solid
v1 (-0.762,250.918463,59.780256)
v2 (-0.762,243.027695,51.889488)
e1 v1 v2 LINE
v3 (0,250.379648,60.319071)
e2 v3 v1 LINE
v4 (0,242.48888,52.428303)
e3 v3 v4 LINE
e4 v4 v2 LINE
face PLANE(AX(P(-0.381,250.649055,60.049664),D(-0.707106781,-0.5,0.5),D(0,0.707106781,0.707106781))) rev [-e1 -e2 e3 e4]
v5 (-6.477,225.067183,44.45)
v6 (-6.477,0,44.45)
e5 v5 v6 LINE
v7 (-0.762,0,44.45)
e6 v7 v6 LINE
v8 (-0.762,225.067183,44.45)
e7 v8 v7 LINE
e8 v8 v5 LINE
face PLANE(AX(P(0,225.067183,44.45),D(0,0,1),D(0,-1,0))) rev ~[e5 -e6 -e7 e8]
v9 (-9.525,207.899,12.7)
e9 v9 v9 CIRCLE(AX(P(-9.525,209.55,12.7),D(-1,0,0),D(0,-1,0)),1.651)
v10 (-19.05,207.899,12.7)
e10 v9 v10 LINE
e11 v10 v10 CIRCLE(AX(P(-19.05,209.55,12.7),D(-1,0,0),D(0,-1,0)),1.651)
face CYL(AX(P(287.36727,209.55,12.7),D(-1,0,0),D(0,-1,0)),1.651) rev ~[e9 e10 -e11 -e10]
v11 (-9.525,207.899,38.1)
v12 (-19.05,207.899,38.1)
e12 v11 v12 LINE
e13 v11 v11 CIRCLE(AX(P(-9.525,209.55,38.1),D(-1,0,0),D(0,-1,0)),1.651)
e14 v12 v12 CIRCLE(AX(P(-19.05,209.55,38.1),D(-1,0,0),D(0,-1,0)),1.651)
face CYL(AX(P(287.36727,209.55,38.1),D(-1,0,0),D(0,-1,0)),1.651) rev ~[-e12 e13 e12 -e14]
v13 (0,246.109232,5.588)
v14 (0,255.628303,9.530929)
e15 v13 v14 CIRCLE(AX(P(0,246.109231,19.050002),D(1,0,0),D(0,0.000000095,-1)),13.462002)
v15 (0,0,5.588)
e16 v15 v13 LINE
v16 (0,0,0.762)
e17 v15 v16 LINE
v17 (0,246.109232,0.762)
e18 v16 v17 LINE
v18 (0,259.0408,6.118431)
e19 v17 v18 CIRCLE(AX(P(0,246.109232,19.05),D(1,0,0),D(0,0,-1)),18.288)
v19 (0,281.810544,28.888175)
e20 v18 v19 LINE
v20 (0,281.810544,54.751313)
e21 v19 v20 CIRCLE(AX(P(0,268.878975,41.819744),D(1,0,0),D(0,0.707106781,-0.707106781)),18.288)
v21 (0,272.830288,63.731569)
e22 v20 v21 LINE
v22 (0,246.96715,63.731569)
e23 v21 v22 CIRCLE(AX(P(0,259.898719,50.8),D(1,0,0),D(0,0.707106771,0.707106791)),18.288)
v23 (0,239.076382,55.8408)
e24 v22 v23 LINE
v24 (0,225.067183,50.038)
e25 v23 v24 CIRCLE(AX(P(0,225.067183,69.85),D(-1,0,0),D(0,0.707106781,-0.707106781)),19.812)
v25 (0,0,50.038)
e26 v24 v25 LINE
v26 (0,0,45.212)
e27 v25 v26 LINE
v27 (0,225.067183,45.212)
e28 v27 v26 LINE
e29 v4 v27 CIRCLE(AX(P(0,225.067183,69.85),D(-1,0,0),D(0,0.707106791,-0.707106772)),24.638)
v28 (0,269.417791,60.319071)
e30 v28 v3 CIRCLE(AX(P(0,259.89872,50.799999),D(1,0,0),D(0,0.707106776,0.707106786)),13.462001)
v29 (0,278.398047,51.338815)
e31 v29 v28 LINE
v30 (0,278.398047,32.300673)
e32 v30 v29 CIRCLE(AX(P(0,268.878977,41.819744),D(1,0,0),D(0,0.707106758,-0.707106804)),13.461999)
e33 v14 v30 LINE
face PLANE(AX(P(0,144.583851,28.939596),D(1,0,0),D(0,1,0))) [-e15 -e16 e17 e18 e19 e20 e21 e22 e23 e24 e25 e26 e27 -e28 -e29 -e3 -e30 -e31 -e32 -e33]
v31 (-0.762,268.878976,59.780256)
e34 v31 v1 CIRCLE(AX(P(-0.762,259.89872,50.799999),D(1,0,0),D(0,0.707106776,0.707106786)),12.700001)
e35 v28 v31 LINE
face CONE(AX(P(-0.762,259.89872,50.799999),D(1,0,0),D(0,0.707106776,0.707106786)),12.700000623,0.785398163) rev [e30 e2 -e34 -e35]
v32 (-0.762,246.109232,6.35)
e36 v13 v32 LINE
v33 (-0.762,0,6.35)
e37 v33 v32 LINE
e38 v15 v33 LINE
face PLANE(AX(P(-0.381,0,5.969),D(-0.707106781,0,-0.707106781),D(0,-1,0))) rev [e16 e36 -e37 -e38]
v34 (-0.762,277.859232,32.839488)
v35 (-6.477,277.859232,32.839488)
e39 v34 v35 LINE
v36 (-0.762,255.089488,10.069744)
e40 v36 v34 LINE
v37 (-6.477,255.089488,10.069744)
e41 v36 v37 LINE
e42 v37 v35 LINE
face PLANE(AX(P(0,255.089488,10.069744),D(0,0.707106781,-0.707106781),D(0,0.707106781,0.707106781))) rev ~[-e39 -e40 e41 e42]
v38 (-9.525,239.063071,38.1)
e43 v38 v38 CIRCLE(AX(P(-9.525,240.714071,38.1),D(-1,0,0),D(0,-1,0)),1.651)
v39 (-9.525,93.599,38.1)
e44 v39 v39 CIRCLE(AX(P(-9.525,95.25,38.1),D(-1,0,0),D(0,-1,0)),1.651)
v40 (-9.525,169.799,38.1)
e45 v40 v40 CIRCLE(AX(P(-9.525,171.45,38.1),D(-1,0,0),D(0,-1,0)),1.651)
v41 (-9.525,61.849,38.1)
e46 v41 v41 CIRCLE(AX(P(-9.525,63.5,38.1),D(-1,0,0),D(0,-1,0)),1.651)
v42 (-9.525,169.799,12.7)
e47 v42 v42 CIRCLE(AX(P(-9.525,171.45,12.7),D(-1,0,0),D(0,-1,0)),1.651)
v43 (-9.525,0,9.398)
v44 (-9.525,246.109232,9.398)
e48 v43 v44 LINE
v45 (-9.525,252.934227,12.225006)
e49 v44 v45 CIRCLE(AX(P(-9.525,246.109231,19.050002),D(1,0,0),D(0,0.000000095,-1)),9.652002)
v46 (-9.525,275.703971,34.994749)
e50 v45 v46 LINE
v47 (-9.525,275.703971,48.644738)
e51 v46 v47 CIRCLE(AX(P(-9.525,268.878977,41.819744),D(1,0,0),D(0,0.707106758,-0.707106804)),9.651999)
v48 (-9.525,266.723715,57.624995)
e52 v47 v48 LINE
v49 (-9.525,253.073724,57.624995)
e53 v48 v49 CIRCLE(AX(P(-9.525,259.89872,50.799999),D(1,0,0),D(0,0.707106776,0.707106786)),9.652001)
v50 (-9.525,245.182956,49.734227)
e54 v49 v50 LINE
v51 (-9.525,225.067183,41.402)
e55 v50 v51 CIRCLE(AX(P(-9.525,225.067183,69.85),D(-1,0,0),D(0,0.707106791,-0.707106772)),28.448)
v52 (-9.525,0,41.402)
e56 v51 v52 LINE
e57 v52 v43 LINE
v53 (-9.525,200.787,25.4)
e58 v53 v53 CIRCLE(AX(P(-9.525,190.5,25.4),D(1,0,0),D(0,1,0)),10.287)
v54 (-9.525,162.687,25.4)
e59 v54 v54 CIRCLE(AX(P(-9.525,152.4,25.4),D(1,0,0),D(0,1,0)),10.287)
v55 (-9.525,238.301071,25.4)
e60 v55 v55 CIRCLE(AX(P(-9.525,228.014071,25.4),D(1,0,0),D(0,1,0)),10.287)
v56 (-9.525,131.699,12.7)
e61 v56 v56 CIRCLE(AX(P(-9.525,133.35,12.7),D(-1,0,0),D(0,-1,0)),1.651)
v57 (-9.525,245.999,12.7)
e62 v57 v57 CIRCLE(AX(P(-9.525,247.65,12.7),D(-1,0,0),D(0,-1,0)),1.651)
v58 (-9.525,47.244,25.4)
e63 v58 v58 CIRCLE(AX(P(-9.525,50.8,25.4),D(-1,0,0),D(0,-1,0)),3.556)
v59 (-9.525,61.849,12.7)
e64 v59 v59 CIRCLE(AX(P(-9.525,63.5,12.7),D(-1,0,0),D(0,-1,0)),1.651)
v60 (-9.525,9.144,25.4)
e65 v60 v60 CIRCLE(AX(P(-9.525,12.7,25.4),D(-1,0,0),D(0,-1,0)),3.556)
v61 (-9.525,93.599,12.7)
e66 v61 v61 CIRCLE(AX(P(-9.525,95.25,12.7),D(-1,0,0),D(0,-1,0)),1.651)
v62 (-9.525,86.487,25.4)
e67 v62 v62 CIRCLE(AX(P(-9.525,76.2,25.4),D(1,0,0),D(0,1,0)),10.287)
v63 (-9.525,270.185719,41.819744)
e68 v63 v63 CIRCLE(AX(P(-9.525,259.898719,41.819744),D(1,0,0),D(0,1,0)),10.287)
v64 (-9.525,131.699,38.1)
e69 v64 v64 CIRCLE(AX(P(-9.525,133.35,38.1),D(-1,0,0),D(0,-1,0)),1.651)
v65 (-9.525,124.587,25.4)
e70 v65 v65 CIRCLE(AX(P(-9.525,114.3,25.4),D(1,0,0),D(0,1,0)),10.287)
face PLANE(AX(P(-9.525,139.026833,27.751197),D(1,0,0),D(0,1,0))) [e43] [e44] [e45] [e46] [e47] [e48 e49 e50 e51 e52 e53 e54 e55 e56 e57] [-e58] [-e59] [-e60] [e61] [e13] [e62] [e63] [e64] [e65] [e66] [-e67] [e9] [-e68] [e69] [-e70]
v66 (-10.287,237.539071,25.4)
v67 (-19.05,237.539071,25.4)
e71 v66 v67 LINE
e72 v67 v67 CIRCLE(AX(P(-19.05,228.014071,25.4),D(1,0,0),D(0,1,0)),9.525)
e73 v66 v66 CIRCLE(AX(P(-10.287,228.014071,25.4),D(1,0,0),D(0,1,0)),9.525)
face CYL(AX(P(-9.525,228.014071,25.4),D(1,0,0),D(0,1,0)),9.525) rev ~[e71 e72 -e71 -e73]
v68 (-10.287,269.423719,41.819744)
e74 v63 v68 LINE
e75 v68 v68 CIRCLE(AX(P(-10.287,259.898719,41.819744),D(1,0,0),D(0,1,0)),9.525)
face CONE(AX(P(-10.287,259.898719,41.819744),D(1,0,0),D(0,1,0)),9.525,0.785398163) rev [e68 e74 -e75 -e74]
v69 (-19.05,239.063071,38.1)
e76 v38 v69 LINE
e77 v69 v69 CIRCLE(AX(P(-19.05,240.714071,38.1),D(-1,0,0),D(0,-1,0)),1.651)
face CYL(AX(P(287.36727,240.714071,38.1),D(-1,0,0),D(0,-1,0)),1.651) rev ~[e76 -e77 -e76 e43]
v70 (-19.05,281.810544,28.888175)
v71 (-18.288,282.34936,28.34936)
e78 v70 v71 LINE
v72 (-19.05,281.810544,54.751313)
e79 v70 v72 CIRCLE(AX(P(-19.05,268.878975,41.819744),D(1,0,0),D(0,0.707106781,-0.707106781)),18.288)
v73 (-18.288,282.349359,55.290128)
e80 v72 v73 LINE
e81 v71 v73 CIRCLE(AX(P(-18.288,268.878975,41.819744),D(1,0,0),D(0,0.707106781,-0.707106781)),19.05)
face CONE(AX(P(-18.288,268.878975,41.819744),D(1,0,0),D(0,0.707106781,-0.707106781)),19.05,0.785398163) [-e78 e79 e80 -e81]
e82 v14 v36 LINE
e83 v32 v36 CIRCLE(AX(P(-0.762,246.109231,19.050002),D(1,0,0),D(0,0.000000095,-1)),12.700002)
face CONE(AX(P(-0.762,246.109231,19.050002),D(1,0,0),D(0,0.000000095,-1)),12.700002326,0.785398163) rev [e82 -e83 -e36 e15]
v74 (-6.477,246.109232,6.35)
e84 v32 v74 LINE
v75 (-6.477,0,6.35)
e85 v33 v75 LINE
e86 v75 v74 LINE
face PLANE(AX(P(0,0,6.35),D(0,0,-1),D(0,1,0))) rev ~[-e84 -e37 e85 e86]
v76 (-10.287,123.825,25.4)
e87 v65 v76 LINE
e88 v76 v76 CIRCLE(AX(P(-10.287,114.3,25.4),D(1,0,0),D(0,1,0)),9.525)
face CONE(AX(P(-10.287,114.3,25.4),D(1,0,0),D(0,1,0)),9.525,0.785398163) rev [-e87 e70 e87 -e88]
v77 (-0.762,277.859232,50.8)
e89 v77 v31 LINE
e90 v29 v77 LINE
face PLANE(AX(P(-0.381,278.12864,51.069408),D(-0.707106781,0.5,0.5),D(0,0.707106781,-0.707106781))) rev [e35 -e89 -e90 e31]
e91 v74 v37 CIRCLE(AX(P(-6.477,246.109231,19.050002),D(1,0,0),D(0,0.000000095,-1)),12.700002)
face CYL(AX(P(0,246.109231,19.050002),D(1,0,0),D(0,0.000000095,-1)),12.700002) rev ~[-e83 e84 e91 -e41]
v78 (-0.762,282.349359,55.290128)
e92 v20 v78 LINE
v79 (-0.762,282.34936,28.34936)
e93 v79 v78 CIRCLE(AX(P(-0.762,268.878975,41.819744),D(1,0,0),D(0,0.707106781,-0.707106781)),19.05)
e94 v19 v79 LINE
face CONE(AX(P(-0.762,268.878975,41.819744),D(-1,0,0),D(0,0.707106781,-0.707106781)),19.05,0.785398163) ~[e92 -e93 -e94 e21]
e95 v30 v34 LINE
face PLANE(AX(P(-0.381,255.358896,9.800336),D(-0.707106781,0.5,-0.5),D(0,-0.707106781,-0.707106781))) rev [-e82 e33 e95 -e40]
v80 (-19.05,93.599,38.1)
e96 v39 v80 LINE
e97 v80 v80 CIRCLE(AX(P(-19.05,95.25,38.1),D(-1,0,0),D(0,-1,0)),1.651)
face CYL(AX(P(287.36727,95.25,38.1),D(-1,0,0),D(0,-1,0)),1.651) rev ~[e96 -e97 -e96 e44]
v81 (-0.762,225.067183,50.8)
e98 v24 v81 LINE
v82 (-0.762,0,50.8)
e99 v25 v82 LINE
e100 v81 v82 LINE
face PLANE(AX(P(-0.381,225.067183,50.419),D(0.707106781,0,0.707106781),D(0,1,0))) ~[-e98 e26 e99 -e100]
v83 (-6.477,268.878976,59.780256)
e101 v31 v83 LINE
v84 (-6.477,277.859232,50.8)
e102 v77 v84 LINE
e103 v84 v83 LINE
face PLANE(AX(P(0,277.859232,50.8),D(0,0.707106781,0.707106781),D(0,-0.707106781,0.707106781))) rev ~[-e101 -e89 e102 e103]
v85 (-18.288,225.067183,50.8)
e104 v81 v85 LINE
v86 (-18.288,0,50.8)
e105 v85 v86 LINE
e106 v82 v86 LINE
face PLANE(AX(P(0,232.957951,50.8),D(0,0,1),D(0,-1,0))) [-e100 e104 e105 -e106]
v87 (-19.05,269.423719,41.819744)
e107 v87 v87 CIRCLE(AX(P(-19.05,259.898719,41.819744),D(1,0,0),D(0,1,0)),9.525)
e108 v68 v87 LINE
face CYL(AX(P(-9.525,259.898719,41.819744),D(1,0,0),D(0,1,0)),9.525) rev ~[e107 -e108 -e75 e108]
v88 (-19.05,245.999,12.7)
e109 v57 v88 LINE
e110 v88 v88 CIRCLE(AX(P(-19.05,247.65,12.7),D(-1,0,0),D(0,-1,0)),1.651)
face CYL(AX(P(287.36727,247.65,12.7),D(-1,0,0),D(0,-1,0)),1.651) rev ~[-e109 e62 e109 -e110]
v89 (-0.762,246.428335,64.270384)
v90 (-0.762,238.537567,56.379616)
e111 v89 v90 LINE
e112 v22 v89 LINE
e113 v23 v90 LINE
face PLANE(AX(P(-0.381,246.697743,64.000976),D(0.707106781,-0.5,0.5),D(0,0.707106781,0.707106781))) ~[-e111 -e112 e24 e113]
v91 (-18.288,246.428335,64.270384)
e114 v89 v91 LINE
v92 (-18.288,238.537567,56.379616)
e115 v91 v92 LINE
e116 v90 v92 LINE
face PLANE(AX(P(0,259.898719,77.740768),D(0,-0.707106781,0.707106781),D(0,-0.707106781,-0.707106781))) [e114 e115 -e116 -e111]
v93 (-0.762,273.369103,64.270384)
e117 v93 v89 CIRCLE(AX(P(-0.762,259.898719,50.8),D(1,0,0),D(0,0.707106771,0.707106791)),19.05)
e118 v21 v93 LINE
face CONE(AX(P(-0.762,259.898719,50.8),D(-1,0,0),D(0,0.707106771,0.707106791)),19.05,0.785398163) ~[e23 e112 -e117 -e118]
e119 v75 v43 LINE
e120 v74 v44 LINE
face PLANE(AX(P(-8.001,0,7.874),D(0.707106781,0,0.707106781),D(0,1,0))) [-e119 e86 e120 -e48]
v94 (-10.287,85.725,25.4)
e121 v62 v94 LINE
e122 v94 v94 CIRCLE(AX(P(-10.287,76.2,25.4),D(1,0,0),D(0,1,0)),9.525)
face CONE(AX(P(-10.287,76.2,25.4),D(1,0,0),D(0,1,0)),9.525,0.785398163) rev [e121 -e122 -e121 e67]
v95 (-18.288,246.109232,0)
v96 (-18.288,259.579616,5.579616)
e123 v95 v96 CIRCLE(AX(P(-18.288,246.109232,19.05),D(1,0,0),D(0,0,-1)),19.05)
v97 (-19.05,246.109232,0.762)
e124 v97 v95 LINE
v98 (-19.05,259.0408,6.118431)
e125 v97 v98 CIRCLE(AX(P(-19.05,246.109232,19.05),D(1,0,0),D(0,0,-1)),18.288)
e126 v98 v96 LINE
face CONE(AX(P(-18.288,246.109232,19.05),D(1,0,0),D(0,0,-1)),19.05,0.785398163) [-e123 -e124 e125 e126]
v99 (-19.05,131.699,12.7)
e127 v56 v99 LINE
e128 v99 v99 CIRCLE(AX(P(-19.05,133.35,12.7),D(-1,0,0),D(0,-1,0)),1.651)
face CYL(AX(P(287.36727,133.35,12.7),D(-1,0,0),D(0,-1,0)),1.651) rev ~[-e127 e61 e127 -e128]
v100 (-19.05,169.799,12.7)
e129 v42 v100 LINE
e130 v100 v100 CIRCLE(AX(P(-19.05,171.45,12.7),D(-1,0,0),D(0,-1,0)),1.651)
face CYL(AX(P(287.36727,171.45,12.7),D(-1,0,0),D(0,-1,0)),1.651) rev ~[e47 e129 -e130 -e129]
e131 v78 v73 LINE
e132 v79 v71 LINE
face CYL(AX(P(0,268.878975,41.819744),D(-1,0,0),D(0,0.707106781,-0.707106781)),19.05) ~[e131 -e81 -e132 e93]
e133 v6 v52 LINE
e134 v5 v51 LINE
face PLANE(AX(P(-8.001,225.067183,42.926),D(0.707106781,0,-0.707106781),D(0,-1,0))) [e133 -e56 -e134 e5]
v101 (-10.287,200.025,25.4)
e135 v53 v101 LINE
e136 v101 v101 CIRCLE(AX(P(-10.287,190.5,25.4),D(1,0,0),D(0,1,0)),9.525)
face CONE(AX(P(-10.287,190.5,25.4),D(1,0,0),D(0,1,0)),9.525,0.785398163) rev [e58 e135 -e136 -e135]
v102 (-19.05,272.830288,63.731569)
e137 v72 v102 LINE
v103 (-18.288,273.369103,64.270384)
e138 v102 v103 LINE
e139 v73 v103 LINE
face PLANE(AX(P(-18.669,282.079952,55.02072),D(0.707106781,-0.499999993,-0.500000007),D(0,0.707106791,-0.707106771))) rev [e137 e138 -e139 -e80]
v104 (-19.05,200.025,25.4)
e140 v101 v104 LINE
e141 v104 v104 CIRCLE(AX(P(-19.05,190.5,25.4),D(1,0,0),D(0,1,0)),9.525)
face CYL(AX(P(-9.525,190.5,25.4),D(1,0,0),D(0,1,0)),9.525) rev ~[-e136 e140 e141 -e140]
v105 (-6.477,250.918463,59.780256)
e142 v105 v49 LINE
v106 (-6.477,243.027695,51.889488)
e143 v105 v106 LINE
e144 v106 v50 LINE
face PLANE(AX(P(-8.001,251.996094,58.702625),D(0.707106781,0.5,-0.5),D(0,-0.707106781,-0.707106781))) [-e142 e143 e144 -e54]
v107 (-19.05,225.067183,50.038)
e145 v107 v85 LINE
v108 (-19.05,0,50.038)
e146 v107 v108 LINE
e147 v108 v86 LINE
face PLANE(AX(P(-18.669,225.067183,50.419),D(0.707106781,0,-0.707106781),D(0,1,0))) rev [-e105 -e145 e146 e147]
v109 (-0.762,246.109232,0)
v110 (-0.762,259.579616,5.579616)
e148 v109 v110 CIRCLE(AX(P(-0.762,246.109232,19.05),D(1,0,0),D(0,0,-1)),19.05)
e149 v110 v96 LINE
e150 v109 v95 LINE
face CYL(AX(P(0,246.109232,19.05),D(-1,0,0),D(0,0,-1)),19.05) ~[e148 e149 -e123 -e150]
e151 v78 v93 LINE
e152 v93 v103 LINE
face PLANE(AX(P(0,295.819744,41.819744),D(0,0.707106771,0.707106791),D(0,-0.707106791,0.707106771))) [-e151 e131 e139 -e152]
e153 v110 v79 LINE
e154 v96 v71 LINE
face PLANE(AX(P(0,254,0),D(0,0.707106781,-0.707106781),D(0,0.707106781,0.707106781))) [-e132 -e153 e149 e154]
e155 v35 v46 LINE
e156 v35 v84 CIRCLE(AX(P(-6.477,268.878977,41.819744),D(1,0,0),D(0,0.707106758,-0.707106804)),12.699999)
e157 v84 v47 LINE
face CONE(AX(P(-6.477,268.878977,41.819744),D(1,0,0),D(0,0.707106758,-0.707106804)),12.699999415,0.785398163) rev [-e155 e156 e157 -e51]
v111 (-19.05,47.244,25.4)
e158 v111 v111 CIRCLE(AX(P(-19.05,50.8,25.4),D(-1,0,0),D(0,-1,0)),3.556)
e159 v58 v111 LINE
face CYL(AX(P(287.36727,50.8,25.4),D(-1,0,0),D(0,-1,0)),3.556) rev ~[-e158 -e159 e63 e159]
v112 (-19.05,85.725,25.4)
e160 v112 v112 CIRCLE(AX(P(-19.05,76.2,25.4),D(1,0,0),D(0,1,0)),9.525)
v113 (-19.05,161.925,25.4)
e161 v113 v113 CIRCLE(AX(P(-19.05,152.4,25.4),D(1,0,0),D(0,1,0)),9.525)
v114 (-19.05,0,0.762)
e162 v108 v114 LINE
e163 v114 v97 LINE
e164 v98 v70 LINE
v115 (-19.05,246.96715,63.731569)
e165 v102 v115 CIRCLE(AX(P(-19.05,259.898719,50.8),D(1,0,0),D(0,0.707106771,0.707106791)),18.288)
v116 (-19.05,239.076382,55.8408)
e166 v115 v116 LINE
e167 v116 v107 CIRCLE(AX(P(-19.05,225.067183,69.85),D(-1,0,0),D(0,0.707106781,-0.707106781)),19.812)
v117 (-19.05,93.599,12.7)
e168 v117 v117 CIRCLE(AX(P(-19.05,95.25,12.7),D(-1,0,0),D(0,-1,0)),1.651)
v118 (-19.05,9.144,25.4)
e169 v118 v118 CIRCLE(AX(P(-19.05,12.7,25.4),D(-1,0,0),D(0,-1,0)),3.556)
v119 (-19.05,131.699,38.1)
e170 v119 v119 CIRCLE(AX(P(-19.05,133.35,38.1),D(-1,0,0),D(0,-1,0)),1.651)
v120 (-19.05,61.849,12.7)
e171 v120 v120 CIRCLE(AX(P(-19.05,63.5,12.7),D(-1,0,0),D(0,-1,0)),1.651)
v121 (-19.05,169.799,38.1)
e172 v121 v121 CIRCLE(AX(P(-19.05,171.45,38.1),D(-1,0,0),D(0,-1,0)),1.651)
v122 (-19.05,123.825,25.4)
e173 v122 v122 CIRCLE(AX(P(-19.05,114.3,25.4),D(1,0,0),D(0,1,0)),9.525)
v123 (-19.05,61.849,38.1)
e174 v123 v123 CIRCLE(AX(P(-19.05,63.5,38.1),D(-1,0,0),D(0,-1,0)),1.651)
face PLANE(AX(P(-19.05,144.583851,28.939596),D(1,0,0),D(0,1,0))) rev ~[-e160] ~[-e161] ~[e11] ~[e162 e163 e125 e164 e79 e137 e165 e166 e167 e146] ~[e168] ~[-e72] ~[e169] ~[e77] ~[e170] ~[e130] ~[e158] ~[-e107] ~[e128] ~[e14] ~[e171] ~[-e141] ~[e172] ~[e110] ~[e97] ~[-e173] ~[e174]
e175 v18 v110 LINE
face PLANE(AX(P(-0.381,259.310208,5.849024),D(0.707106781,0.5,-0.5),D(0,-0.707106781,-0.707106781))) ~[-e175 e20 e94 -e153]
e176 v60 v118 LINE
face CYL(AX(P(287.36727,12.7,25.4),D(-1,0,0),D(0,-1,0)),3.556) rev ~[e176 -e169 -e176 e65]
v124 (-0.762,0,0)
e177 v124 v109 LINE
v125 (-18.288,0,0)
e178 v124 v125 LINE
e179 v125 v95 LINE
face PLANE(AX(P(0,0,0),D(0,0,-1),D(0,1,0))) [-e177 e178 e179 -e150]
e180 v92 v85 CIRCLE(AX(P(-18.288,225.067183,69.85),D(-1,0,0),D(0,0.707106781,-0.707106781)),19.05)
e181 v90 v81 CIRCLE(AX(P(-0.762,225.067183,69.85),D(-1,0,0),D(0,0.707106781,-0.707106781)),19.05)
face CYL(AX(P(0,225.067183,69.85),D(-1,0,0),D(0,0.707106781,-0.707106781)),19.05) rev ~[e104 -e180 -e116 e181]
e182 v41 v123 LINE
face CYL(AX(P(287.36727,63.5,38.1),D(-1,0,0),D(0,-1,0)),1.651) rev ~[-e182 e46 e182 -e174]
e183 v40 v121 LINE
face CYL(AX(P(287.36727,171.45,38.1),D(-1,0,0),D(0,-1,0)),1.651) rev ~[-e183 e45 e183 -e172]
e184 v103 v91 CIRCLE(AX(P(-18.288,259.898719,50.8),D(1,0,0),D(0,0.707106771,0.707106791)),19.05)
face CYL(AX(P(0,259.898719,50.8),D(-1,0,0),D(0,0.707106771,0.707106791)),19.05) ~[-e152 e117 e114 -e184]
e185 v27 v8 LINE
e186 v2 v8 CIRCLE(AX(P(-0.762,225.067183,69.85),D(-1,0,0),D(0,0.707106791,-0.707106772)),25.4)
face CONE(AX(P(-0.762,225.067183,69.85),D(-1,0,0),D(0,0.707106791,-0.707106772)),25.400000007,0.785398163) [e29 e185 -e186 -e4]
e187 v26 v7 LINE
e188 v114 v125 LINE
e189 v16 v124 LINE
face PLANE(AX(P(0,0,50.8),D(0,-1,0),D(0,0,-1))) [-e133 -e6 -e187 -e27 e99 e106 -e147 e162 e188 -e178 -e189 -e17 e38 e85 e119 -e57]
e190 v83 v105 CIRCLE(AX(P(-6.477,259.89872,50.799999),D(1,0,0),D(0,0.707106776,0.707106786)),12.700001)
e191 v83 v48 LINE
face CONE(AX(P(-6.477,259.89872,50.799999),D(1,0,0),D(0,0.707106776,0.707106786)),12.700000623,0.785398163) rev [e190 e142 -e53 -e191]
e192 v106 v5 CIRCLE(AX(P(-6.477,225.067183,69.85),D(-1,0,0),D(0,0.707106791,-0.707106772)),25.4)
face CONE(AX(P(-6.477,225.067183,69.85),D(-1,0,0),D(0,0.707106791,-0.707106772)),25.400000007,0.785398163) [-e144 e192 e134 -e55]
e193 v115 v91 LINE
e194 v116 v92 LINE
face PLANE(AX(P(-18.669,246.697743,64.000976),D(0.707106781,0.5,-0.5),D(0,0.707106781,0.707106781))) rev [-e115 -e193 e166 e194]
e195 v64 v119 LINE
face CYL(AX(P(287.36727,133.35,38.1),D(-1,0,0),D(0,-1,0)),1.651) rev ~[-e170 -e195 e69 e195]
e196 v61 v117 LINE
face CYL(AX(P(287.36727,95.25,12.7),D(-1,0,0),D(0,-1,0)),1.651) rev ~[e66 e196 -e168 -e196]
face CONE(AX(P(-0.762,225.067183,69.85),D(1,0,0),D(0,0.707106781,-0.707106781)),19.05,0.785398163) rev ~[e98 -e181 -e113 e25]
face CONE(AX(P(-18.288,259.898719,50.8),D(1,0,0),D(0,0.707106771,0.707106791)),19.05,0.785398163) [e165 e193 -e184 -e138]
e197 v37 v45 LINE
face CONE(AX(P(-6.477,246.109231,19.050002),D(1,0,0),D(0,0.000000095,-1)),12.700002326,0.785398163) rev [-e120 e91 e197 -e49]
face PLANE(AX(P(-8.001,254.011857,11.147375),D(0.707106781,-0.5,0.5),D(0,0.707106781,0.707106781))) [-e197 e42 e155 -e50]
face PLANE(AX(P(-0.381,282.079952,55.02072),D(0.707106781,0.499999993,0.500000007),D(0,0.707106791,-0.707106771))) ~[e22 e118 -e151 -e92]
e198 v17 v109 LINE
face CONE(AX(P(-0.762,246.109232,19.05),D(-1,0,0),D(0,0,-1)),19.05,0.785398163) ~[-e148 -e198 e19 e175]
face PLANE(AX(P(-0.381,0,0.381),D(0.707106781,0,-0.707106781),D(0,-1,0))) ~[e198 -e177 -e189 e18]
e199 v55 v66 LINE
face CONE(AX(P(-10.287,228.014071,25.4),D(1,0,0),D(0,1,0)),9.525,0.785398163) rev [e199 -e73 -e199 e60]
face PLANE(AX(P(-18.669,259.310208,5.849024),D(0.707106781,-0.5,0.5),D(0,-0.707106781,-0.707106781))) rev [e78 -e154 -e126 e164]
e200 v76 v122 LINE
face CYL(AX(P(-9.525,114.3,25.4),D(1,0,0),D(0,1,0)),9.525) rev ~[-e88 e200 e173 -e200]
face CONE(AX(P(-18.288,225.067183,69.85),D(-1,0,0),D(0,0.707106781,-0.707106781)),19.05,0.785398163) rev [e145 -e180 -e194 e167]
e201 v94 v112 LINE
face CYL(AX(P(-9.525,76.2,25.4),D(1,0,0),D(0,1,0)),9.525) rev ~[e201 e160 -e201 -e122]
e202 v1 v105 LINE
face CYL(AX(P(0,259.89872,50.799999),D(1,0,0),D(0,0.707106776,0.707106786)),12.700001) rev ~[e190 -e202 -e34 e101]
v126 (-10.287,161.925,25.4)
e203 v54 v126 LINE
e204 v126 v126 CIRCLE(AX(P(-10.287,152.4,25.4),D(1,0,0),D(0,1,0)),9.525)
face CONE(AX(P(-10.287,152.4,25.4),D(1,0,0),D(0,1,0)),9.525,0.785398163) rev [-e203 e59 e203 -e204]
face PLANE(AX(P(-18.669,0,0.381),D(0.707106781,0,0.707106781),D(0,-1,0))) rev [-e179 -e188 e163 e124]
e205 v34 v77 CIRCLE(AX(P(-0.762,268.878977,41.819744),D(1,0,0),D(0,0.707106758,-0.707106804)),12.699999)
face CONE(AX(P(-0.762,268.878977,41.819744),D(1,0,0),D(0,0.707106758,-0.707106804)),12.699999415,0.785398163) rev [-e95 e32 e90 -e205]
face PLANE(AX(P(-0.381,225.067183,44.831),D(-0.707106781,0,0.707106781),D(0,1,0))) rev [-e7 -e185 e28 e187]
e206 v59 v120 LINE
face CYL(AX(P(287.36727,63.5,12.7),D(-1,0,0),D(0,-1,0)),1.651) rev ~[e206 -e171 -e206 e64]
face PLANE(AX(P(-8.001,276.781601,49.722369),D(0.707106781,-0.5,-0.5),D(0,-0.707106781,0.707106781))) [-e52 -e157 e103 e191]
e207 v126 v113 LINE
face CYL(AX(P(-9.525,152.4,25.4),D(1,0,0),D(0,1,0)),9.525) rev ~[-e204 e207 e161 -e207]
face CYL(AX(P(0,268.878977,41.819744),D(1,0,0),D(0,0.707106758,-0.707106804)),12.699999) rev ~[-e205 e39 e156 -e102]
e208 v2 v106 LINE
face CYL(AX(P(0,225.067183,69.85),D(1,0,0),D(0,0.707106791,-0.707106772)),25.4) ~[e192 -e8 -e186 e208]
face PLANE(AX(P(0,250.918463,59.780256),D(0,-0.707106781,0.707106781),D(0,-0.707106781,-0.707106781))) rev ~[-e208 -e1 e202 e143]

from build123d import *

# Parameters (mm, degrees)
F1_DEPTH = 19.05
F2_R     = 19.05
F4_DEPTH = 9.525
F5_SIZE  = 3.048
F6_R     = 9.525
F7_DEPTH = 9.526
F8_SIZE  = 0.762
F10_D    = 7.112
F12_D    = 3.302


with BuildPart() as f1:
    # F0 (on Right) → F1 (new body)
    with BuildSketch(Plane.YZ):
        Polygon((0, 50.8), (0, 0), (254, 0), (295.819744, 41.819744), (259.898719, 77.740768), (232.957951, 50.8), align=None)
    extrude(amount=-F1_DEPTH)

    # F2
    f2_edges = [f1.edges().sort_by_distance(p)[0] for p in [
        (-9.525, 259.898719, 77.740768),
        (-9.525, 295.819744, 41.819744),
        (-9.525, 232.957951, 50.8),
        (-9.525, 254, 0),
    ]]
    fillet(f2_edges, radius=F2_R)

    # F3 (on face) → F4 (cut)
    with BuildSketch(Plane.YZ):
        with BuildLine():
            ThreePointArc((243.027695, 51.889488), (234.787342, 46.38346), (225.067183, 44.45))
            Line((225.067183, 44.45), (0, 44.45))
            Line((0, 44.45), (0, 6.35))
            Line((0, 6.35), (246.109232, 6.35))
            ThreePointArc((246.109232, 6.35), (250.969311, 7.31673), (255.089488, 10.069744))
            Line((255.089488, 10.069744), (277.859232, 32.839488))
            ThreePointArc((277.859232, 32.839488), (281.578976, 41.819744), (277.859232, 50.8))
            Line((277.859232, 50.8), (268.878976, 59.780256))
            ThreePointArc((268.878976, 59.780256), (259.898719, 63.5), (250.918463, 59.780256))
            Line((250.918463, 59.780256), (243.027695, 51.889488))
        make_face()
    extrude(amount=-F4_DEPTH, mode=Mode.SUBTRACT)

    # F5
    f5_edges = [f1.edges().sort_by_distance(p)[0] for p in [
        (-9.525, 112.533591, 44.45),
    ]]
    chamfer(f5_edges, length=F5_SIZE)

    # F6 (on face) → F7 (cut, through all)
    with BuildSketch(Plane.YZ.offset(-9.525)):
        with Locations((76.2, 25.4)):
            Circle(F6_R)
        with Locations((114.3, 25.4)):
            Circle(F6_R)
        with Locations((152.4, 25.4)):
            Circle(F6_R)
        with Locations((259.898719, 41.819744)):
            Circle(F6_R)
        with Locations((190.5, 25.4)):
            Circle(F6_R)
        with Locations((228.014071, 25.4)):
            Circle(F6_R)
    extrude(amount=-F7_DEPTH, mode=Mode.SUBTRACT)

    # F8
    f8_edges = [f1.edges().sort_by_distance(p)[0] for p in [
        (-9.525, 66.675, 25.4),
        (-9.525, 104.775, 25.4),
        (-9.525, 142.875, 25.4),
        (-9.525, 180.975, 25.4),
        (-9.525, 218.489071, 25.4),
        (-9.525, 250.373719, 41.819744),
        (0, 123.054616, 0),
        (0, 266.47436, 21.454616),
        (-19.05, 123.054616, 0),
    ]]
    chamfer(f8_edges, length=F8_SIZE)

    # F10 (through all)
    with Locations(Plane.YZ.offset(-9.525)):
        with Locations((50.8, 25.4), (12.7, 25.4)):
            Hole(F10_D / 2)

    # F12 (through all)
    with Locations(Plane.YZ.offset(-9.525)):
        with Locations((247.65, 12.7), (240.714071, 38.1), (209.55, 12.7), (209.55, 38.1), (171.45, 12.7), (171.45, 38.1), (133.35, 12.7), (133.35, 38.1), (95.25, 12.7), (95.25, 38.1), (63.5, 12.7), (63.5, 38.1)):
            Hole(F12_D / 2)


solid = f1.part
